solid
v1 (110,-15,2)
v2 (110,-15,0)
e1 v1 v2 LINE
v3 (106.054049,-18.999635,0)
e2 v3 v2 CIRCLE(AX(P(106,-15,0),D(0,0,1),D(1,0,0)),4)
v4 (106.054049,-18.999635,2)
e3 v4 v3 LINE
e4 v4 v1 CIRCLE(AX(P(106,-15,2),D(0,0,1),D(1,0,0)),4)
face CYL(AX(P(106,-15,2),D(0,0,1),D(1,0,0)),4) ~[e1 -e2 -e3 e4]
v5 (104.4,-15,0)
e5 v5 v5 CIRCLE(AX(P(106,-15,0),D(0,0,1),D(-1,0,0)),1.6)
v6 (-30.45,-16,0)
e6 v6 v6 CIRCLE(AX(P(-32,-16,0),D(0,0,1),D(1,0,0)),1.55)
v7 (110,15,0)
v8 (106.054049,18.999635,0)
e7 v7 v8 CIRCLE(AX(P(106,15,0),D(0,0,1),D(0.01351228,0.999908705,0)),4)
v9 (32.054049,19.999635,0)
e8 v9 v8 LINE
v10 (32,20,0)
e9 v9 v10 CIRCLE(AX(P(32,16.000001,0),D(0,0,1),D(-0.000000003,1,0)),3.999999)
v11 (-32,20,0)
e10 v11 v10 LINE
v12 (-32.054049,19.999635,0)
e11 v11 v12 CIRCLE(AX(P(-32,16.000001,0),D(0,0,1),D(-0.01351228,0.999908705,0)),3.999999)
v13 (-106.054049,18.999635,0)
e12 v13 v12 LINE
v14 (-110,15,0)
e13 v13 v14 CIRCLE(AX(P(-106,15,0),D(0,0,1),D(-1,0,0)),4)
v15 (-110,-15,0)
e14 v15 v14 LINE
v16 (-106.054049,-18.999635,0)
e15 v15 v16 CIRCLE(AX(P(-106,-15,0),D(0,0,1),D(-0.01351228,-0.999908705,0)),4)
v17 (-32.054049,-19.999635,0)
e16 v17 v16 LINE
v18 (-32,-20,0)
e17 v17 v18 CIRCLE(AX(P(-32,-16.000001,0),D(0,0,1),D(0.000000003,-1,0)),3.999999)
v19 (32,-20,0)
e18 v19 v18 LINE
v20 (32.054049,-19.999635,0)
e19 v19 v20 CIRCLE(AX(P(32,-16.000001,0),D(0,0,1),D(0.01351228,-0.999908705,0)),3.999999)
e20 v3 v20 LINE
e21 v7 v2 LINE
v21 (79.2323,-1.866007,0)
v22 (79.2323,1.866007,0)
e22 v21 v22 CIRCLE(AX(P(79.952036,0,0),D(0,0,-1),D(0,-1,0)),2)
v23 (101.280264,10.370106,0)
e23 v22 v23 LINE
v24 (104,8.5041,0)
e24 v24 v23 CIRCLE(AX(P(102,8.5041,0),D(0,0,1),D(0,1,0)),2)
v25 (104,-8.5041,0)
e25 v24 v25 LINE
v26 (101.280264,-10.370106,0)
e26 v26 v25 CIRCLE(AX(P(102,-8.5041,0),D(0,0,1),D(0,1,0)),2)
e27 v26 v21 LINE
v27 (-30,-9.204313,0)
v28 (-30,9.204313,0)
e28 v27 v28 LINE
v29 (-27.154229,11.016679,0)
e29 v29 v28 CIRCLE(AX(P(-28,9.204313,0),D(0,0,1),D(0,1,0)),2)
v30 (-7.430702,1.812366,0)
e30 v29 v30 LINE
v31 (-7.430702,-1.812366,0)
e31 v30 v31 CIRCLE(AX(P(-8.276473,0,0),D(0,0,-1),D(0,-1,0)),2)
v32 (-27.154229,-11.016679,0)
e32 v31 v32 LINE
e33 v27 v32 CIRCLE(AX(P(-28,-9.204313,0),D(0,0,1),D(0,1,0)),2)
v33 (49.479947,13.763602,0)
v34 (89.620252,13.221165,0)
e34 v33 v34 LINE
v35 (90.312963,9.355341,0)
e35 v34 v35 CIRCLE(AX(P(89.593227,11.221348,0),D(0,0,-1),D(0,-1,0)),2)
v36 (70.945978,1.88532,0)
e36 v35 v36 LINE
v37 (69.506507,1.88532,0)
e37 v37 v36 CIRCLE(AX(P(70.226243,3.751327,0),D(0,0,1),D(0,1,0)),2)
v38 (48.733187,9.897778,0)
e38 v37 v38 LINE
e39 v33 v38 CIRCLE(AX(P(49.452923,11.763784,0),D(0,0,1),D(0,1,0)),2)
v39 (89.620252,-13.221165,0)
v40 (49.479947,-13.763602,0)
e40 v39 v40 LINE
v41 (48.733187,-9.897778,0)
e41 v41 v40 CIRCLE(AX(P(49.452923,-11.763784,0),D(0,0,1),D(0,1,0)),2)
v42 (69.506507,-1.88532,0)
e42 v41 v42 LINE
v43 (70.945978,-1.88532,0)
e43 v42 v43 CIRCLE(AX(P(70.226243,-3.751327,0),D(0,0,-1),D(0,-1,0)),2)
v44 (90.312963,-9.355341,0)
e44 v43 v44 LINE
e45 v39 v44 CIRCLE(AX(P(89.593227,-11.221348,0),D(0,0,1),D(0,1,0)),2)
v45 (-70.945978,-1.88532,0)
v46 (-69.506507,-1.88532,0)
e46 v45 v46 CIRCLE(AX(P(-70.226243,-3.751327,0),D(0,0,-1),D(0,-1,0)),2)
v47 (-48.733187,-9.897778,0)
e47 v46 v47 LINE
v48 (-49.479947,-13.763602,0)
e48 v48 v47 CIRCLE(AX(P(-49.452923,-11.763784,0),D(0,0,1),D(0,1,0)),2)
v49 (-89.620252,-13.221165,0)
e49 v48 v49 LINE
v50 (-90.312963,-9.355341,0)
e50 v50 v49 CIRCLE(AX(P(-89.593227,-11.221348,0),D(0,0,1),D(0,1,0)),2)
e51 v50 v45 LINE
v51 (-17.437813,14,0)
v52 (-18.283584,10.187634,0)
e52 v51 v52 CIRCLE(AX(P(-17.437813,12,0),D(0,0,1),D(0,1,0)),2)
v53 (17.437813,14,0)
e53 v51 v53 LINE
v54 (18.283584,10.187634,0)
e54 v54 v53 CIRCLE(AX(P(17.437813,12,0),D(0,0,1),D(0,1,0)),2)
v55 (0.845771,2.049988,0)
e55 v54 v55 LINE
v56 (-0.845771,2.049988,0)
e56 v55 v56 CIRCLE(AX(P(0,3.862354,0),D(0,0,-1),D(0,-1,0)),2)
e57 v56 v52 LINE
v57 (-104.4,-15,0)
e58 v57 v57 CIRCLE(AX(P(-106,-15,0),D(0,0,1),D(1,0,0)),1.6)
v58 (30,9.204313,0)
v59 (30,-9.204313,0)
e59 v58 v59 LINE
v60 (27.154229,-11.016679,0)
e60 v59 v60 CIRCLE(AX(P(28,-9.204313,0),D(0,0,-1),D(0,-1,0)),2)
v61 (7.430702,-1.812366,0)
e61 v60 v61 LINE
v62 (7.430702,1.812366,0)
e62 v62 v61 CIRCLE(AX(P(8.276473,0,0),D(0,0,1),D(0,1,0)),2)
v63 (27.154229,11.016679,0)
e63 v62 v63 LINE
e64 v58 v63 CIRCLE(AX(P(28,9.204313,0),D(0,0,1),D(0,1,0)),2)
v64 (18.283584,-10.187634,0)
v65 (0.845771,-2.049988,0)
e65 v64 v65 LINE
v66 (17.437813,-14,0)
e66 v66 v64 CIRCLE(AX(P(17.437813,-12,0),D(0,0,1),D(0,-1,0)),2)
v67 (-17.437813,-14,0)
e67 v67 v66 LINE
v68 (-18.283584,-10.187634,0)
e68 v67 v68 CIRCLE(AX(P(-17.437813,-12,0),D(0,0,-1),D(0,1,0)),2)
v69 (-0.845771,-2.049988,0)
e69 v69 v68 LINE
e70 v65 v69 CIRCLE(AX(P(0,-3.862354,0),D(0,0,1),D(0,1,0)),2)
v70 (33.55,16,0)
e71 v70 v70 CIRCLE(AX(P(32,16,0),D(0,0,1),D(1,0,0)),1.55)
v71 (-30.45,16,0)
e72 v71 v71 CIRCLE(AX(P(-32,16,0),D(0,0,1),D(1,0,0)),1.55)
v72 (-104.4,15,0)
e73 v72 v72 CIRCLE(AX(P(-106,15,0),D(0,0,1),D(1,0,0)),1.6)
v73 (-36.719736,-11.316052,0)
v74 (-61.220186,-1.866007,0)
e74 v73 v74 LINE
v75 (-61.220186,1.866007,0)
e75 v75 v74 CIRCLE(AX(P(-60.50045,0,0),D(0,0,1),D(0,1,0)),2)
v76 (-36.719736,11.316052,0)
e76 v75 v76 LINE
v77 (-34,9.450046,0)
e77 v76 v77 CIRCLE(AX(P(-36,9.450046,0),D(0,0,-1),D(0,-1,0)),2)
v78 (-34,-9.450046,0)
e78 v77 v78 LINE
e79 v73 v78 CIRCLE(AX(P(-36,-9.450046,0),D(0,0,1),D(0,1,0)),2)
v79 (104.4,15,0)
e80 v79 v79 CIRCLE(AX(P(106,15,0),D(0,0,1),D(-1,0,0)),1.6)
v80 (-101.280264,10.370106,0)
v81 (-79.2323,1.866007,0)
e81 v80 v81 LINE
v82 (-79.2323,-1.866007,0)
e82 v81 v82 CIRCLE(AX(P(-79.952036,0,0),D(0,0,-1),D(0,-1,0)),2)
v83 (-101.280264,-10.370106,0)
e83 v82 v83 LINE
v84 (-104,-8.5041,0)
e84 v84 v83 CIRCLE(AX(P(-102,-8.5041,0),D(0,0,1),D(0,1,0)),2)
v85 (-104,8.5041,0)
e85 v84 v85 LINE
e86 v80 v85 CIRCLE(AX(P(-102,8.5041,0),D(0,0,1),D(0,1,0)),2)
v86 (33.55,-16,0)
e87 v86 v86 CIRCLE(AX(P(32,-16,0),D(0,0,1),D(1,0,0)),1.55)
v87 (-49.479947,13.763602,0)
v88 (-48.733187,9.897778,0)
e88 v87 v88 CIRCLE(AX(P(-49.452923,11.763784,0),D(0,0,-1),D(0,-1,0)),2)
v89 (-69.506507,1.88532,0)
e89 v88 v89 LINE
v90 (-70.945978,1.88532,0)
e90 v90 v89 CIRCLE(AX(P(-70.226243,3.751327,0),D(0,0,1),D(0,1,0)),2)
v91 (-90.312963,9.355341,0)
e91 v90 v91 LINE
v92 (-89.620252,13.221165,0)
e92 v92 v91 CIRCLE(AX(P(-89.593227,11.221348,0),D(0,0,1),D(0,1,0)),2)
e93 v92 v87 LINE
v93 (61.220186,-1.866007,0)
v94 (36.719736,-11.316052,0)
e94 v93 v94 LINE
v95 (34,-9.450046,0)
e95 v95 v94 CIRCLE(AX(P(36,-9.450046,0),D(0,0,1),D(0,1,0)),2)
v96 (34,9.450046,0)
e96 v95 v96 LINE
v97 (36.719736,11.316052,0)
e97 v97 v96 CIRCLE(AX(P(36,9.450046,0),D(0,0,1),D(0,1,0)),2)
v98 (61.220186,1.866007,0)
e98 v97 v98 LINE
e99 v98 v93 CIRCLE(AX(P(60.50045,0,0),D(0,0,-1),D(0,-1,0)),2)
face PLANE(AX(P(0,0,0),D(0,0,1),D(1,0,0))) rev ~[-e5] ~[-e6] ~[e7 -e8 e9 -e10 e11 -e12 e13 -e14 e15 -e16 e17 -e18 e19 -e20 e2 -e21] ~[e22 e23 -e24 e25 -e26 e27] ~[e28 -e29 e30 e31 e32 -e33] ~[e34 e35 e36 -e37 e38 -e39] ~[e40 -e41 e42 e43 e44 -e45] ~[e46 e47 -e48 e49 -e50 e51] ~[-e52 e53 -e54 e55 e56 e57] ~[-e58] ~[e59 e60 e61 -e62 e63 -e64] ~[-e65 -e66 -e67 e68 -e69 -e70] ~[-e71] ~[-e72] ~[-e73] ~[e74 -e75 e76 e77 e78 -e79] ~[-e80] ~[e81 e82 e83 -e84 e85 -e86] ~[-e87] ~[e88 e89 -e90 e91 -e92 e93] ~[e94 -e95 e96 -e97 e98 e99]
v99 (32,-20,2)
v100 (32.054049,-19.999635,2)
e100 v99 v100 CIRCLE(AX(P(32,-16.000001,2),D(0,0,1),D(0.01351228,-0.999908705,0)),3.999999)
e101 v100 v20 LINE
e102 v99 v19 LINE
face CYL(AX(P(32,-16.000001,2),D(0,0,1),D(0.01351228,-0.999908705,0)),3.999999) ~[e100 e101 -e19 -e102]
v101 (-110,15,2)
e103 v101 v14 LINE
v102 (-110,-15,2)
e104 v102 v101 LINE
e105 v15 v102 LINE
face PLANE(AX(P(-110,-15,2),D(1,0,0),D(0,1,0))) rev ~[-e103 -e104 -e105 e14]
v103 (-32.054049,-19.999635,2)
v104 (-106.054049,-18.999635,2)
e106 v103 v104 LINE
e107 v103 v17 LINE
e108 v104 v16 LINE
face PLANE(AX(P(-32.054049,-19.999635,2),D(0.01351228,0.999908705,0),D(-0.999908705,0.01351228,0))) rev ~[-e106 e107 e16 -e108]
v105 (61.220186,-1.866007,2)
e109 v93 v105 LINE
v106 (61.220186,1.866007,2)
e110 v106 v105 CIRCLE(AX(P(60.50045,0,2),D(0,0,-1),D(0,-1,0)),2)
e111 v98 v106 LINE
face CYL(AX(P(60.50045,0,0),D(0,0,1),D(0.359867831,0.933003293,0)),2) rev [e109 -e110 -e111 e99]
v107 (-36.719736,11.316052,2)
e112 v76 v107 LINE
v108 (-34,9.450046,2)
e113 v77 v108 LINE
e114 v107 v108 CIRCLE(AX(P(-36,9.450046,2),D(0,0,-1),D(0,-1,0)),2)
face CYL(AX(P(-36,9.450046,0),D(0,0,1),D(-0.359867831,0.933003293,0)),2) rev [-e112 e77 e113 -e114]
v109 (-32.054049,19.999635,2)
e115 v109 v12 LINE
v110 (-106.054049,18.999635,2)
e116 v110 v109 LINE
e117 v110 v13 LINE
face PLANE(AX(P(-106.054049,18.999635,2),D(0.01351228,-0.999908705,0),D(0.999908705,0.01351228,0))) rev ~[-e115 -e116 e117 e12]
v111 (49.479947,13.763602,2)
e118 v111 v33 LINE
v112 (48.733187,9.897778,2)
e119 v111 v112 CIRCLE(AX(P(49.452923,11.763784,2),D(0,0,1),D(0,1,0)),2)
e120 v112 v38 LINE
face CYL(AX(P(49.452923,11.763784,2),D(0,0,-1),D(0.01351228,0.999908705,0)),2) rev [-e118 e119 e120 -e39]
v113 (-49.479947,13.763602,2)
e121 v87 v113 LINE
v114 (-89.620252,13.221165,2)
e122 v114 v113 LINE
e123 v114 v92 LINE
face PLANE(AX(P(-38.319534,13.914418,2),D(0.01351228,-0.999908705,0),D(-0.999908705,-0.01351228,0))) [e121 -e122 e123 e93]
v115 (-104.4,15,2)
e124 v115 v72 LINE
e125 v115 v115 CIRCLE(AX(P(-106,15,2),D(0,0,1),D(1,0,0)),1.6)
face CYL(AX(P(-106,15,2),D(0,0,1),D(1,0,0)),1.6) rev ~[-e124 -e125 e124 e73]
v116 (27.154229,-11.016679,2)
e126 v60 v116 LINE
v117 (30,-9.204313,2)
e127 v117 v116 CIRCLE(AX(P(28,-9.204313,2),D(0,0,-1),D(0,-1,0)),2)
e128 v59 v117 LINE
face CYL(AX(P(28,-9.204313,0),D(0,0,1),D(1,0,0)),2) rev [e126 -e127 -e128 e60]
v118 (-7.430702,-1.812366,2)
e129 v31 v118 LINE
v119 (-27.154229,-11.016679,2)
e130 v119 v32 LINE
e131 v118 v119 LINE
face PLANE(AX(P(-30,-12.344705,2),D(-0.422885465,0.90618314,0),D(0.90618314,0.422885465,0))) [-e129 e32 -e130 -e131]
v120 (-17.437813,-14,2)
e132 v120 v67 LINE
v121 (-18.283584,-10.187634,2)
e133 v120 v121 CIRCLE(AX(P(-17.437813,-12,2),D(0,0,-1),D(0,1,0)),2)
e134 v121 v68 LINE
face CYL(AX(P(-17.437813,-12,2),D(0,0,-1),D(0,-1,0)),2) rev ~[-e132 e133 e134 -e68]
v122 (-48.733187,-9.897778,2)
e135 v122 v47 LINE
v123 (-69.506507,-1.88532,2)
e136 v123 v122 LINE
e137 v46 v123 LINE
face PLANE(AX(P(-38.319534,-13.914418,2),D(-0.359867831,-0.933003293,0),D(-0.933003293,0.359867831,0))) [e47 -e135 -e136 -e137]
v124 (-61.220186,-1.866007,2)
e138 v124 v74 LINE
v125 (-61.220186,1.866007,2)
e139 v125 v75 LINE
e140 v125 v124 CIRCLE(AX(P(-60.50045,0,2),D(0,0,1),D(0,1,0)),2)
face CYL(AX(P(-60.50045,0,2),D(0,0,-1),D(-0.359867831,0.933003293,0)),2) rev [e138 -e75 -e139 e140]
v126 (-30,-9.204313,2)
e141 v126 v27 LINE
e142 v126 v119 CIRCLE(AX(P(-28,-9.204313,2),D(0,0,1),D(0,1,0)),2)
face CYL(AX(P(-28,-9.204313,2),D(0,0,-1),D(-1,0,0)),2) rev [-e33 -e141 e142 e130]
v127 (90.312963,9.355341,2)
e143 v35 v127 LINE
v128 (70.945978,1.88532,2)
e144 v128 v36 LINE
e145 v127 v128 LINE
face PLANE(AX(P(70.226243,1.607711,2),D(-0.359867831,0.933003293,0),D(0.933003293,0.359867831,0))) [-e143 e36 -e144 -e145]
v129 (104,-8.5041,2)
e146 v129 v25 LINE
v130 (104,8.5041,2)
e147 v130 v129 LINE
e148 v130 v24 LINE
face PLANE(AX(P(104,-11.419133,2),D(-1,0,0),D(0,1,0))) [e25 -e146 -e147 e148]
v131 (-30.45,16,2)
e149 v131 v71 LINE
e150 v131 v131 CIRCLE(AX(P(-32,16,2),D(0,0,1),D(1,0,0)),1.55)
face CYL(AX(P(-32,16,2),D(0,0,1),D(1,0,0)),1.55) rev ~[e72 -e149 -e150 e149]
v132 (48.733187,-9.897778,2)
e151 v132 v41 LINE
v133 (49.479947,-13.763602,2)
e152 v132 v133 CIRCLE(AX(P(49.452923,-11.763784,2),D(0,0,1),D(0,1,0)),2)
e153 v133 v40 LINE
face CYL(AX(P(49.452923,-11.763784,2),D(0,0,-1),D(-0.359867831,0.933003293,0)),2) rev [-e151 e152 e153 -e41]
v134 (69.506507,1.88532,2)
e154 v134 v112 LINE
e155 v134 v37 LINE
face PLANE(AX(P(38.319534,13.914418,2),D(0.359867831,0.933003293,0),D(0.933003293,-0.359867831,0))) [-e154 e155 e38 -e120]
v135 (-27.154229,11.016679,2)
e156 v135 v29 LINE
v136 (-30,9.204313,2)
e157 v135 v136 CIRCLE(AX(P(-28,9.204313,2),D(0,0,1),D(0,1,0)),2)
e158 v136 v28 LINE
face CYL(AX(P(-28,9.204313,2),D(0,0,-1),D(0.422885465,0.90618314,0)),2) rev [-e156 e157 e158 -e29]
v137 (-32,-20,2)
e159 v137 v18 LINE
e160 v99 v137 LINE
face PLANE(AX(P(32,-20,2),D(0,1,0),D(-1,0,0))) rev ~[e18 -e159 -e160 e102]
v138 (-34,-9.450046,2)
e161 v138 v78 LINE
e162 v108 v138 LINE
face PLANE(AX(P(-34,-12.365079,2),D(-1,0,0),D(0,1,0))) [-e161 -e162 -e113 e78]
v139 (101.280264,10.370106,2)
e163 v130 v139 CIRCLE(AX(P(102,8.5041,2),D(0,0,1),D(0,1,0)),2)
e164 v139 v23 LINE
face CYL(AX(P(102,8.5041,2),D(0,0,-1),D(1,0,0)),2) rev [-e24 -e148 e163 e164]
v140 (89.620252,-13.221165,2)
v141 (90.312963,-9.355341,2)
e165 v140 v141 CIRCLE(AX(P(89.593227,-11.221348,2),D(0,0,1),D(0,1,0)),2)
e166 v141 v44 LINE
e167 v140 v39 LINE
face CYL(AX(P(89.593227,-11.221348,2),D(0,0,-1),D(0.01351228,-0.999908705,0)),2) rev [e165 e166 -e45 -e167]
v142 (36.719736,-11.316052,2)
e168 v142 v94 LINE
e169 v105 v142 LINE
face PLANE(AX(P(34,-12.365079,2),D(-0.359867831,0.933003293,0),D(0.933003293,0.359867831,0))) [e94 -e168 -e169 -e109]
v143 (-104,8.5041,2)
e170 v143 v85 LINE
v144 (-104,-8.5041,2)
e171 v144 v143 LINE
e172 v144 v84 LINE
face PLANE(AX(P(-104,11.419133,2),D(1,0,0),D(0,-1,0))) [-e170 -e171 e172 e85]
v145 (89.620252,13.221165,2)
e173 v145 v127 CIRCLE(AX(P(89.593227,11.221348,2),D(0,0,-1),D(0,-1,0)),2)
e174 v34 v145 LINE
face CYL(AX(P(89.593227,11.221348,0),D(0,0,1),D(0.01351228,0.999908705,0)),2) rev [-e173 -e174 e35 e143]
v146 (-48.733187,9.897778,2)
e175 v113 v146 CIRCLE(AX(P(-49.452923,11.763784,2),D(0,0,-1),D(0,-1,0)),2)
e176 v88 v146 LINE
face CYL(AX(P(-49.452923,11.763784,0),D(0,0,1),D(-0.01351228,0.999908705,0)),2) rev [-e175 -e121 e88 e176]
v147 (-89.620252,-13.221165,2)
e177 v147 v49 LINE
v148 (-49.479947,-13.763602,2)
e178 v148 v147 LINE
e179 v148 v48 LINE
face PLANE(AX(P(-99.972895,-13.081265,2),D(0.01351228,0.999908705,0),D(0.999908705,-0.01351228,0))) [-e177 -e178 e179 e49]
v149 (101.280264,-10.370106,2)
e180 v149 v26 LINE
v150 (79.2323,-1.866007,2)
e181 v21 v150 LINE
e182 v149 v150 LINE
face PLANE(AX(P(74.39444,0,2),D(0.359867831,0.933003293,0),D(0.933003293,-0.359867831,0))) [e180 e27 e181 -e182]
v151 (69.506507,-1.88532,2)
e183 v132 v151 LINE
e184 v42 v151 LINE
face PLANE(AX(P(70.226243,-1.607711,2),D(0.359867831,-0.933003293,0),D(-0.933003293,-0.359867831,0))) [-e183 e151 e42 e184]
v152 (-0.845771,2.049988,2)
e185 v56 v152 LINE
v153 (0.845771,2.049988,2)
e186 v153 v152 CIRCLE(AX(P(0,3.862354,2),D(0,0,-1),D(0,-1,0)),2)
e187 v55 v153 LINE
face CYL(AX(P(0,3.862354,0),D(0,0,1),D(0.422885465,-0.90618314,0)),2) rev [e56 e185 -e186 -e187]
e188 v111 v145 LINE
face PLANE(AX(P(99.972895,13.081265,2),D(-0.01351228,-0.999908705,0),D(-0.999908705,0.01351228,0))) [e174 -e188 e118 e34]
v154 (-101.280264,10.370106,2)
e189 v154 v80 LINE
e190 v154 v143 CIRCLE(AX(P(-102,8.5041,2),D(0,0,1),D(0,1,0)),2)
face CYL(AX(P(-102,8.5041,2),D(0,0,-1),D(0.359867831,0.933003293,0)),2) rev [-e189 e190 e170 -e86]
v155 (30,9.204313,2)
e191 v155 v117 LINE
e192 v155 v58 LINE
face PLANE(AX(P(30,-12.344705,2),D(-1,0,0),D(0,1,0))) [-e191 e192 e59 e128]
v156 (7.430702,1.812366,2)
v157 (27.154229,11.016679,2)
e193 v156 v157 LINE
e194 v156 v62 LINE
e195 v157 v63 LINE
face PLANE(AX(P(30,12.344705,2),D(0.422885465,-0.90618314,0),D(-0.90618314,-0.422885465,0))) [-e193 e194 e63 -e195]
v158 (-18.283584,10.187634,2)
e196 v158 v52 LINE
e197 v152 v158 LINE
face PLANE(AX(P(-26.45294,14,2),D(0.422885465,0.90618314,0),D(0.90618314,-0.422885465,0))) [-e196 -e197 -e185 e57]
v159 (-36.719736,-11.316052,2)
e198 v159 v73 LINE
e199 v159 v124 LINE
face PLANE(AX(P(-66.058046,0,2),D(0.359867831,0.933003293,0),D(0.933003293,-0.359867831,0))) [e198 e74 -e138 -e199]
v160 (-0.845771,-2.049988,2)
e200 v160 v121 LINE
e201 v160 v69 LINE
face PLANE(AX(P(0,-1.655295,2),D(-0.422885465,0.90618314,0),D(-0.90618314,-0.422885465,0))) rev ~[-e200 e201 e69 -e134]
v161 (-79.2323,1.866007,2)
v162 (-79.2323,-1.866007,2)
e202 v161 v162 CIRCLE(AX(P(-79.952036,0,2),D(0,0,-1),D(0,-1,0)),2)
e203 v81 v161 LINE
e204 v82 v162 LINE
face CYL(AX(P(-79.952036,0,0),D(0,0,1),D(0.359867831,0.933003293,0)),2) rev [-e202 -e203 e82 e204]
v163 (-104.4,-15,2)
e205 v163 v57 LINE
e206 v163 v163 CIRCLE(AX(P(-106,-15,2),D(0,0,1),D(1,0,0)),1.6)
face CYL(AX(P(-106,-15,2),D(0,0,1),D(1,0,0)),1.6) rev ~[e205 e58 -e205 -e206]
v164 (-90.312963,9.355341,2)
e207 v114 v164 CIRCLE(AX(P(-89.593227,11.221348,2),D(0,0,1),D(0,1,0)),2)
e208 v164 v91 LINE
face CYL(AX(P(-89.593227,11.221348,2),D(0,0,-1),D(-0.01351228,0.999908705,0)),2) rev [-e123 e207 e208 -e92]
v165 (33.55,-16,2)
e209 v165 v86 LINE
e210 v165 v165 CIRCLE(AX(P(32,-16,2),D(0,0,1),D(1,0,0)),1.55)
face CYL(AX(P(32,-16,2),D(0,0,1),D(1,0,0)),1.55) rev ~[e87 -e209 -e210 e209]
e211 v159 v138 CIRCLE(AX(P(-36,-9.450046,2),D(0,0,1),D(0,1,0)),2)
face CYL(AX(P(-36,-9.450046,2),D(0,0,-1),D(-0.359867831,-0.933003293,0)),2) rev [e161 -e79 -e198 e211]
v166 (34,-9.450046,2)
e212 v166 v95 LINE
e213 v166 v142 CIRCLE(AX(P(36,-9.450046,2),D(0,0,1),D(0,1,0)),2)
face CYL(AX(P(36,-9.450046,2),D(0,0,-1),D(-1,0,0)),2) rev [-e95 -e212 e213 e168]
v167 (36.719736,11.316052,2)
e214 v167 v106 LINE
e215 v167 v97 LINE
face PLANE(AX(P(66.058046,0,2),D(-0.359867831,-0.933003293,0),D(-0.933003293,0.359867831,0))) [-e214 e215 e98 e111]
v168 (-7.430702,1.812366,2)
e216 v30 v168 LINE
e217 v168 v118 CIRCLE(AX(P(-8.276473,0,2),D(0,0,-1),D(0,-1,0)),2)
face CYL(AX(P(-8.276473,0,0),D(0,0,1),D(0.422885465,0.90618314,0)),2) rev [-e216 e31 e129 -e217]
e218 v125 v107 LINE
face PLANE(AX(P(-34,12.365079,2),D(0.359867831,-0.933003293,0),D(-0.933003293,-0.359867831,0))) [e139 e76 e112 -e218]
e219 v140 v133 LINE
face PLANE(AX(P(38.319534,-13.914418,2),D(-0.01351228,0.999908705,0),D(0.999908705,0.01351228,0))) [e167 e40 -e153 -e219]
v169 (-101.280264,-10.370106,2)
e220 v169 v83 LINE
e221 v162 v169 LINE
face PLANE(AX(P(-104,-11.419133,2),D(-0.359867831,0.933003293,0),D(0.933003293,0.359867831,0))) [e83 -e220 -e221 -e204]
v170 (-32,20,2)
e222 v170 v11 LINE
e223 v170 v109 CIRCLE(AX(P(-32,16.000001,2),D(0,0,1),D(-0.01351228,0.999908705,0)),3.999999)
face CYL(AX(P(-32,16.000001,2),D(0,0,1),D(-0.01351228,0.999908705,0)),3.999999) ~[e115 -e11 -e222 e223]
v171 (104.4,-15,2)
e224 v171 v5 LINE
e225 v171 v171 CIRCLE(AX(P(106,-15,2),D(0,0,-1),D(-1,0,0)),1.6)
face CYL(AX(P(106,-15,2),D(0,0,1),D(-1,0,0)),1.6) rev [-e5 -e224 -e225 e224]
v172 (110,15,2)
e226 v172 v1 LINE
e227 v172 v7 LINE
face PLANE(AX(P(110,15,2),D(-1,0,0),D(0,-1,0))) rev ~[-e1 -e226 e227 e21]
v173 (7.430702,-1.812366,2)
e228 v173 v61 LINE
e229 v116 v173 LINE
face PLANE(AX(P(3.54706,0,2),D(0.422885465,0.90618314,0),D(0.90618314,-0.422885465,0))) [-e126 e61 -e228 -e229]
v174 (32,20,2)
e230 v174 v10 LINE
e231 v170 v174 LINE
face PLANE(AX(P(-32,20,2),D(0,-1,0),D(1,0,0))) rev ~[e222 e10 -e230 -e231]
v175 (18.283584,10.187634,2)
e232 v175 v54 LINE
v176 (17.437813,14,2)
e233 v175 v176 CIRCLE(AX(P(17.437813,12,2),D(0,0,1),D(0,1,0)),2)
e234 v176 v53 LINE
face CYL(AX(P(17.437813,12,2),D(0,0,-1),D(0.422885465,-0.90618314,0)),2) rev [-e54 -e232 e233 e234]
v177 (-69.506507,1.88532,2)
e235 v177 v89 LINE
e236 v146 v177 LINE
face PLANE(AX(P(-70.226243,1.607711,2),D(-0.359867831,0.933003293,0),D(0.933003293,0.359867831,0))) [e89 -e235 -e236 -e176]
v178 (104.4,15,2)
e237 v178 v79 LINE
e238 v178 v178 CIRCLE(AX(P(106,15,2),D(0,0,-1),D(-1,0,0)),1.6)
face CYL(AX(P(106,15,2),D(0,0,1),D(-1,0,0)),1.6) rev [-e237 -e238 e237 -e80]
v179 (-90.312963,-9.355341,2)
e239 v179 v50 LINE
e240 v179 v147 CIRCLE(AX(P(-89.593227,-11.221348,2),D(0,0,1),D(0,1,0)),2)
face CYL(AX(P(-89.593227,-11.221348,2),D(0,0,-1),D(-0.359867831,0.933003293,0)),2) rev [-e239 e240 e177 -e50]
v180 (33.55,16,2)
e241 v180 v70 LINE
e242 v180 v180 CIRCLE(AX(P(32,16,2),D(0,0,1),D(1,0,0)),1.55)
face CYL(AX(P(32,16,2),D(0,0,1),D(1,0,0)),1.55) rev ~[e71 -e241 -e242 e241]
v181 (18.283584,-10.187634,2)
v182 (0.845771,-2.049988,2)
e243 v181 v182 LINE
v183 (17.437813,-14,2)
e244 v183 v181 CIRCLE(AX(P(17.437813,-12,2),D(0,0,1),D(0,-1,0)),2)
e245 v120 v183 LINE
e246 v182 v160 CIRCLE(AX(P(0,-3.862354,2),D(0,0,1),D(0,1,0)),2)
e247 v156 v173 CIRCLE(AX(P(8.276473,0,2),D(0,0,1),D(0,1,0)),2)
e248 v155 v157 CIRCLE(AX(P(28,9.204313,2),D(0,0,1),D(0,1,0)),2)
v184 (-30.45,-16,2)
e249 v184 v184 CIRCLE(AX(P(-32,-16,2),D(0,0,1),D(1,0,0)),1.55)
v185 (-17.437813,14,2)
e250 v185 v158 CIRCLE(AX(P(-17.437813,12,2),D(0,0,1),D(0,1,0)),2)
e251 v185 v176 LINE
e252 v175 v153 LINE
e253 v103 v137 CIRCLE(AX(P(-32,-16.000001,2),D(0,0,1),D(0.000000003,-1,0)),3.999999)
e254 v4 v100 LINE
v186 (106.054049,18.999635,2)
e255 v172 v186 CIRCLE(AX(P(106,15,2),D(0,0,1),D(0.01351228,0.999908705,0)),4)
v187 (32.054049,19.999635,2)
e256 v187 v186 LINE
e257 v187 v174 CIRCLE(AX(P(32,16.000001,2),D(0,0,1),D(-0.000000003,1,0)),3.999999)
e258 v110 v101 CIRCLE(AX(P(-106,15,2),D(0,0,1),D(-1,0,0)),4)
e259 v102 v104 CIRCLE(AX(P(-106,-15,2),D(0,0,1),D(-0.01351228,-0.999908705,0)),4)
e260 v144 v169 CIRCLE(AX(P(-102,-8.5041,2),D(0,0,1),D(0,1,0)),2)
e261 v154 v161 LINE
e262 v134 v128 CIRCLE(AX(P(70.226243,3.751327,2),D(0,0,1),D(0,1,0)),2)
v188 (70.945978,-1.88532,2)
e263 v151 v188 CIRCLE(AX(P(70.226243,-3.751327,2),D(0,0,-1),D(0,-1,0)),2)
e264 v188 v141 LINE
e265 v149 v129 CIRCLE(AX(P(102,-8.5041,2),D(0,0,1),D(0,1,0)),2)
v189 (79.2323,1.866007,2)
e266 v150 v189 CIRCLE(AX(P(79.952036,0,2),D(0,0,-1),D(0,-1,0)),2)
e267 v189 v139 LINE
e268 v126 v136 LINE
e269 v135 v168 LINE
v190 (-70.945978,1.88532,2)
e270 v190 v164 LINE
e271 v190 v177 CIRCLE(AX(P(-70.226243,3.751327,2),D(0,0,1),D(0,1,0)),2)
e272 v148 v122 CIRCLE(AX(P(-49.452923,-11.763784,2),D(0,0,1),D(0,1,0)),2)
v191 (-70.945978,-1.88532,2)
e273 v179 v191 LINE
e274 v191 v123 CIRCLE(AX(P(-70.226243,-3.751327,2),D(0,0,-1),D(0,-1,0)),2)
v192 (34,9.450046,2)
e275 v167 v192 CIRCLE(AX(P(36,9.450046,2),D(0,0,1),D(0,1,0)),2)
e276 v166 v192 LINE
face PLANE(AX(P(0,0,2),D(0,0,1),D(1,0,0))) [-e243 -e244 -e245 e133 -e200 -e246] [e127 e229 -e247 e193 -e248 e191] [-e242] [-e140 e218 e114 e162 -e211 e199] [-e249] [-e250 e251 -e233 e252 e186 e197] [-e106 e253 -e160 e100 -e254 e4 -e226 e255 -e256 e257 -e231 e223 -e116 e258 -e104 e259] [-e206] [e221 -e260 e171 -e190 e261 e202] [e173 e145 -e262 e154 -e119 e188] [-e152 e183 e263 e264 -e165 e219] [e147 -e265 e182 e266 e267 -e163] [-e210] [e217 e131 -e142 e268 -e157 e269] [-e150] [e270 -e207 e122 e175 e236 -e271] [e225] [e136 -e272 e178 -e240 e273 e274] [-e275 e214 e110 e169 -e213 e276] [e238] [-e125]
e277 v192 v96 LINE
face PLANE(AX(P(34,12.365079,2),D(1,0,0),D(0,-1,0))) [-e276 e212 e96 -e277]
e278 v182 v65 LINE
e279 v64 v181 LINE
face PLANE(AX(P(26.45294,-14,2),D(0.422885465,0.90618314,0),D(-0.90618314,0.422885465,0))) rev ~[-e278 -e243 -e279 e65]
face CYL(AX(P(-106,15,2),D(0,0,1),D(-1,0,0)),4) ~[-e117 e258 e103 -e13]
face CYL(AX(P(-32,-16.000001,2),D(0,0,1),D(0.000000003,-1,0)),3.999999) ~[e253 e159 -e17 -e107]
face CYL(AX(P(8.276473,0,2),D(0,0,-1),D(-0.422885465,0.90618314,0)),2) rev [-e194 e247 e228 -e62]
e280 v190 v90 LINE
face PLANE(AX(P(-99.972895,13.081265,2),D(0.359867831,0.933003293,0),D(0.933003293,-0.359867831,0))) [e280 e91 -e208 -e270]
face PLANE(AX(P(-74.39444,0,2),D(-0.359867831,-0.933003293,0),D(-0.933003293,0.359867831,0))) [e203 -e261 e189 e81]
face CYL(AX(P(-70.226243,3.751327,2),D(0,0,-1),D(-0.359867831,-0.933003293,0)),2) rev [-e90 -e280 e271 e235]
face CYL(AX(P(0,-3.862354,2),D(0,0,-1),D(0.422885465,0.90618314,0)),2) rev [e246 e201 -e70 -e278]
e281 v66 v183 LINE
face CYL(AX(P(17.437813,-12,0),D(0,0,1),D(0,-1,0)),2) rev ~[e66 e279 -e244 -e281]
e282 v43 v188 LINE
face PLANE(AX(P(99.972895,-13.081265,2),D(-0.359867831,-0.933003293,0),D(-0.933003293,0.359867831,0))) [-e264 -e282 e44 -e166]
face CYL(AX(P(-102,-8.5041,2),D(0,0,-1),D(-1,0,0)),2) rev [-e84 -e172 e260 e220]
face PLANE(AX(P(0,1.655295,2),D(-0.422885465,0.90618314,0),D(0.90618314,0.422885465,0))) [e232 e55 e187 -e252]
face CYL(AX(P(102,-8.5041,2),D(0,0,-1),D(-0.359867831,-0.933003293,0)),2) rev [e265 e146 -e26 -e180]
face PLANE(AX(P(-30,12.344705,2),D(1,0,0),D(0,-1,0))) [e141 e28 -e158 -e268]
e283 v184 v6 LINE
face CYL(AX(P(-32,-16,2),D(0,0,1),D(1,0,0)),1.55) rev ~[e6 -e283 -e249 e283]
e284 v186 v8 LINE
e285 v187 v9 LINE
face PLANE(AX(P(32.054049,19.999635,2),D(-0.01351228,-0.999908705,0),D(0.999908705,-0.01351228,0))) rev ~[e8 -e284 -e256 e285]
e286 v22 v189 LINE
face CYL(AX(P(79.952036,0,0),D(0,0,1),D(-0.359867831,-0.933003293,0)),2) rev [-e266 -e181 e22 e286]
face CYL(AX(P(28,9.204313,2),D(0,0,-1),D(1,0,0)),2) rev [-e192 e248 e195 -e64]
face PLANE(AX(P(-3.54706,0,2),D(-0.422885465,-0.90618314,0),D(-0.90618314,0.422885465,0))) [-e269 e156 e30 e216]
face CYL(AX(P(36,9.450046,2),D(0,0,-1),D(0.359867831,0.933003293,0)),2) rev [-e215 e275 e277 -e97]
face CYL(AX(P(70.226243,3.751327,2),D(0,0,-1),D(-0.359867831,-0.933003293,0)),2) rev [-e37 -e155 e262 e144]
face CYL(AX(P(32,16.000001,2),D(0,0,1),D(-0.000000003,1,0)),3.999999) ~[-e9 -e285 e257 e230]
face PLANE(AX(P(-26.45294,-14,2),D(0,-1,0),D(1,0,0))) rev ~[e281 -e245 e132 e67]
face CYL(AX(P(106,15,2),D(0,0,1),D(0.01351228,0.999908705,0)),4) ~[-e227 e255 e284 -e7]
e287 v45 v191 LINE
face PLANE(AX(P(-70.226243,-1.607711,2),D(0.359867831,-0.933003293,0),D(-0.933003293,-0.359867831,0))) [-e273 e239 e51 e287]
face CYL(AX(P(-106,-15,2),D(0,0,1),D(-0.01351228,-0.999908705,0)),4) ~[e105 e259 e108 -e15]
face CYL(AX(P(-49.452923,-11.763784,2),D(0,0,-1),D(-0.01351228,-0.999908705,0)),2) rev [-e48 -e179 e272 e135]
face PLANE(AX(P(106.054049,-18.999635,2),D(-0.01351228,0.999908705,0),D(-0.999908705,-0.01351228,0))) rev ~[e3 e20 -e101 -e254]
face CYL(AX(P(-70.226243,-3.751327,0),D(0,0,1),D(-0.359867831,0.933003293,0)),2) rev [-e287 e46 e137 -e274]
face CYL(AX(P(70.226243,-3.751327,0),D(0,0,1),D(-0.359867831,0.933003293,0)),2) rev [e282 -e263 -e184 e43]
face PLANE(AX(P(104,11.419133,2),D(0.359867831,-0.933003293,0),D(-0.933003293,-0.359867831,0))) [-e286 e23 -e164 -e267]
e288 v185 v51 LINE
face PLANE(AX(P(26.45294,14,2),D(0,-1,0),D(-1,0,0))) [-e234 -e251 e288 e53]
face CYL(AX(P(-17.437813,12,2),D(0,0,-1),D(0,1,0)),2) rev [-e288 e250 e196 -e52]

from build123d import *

# Parameters (mm, degrees)
SKETCH_1_W          = 232
SKETCH_1_H          = 52
EXTRUDE_1_DEPTH     = 2
SKETCH_3_R          = 1.55
CUT_EXTRUDE_2_DEPTH = 10
FILLET_1_R          = 3
SKETCH_8_R          = 1.6
CUT_EXTRUDE_6_DEPTH = 10
CUT_EXTRUDE_7_DEPTH = 5
CUT_EXTRUDE_8_DEPTH = 5
FILLET_2_R          = 2


with BuildPart() as part:
    # 草图1 → 凸台-拉伸1 (new body)
    with BuildSketch(Plane.XY):
        Rectangle(SKETCH_1_W, SKETCH_1_H)
    extrude(amount=EXTRUDE_1_DEPTH)

    # 草图3 → 切除-拉伸2 (cut)
    with BuildSketch(Plane.XY.offset(2)):
        with Locations((32, -16)):
            Circle(SKETCH_3_R)
        with Locations((32, 16)):
            Circle(SKETCH_3_R)
        with Locations((-32, 16)):
            Circle(SKETCH_3_R)
        with Locations((-32, -16)):
            Circle(SKETCH_3_R)
    extrude(amount=-CUT_EXTRUDE_2_DEPTH, mode=Mode.SUBTRACT)

    # 圆角1
    fillet_1_edges = [part.edges().sort_by_distance(p)[0] for p in [
        (116, -26, 1),
        (-116, -26, 1),
        (-116, 26, 1),
        (116, 26, 1),
    ]]
    fillet(fillet_1_edges, radius=FILLET_1_R)

    # 草图8 → 切除-拉伸6 (cut)
    with BuildSketch(Plane.XY.offset(2)):
        with Locations((-106, 15)):
            Circle(SKETCH_8_R)
        with Locations((-106, -15)):
            Circle(SKETCH_8_R)
    cut_extrude_6 = extrude(amount=-CUT_EXTRUDE_6_DEPTH, mode=Mode.SUBTRACT)

    # 镜向1: 切除-拉伸6 across plane
    add(cut_extrude_6.mirror(Plane(origin=(0, 0, 0), x_dir=(0, 0, 1), z_dir=(1, 0, 0))), mode=Mode.SUBTRACT)

    # 草图9 → 切除-拉伸7 (cut, symmetric)
    with BuildSketch(Plane.XY.offset(2)):
        with BuildLine():
            ThreePointArc((-116, -23), (-115.121320344, -25.121320344), (-113, -26))
            Line((-113, -26), (113, -26))
            ThreePointArc((113, -26), (115.121320344, -25.121320344), (116, -23))
            Line((116, -23), (116, 23))
            ThreePointArc((116, 23), (115.121320344, 25.121320344), (113, 26))
            Line((113, 26), (-113, 26))
            ThreePointArc((-113, 26), (-115.121320344, 25.121320344), (-116, 23))
            Line((-116, 23), (-116, -23))
        make_face()
        with BuildLine():
            Line((-110, -15), (-110, 15))
            ThreePointArc((-110, 15), (-108.847472254, 17.809252883), (-106.054049119, 18.99963482))
            Line((-106.054049119, 18.99963482), (-32.054049119, 19.99963482))
            ThreePointArc((-32.054049119, 19.99963482), (-32.027025176, 19.999908704), (-32, 20))
            Line((-32, 20), (32, 20))
            ThreePointArc((32, 20), (32.027025176, 19.999908704), (32.054049119, 19.99963482))
            Line((32.054049119, 19.99963482), (106.054049119, 18.99963482))
            ThreePointArc((106.054049119, 18.99963482), (108.847472254, 17.809252883), (110, 15))
            Line((110, 15), (110, -15))
            ThreePointArc((110, -15), (108.847472254, -17.809252883), (106.054049119, -18.99963482))
            Line((106.054049119, -18.99963482), (32.054049119, -19.99963482))
            ThreePointArc((32.054049119, -19.99963482), (32.027025176, -19.999908704), (32, -20))
            Line((32, -20), (-32, -20))
            ThreePointArc((-32, -20), (-32.027025176, -19.999908704), (-32.054049119, -19.99963482))
            Line((-32.054049119, -19.99963482), (-106.054049119, -18.99963482))
            ThreePointArc((-106.054049119, -18.99963482), (-108.847472254, -17.809252883), (-110, -15))
        make_face(mode=Mode.SUBTRACT)
    extrude(amount=CUT_EXTRUDE_7_DEPTH, both=True, mode=Mode.SUBTRACT)

    # 草图10 → 切除-拉伸8 (cut, symmetric)
    with BuildSketch(Plane.XY.offset(2)):
        Polygon((-70.226242813, 1.607711368), (-38.319534037, 13.914418285), (-99.972894719, 13.081264762), align=None)
        Polygon((-104, -11.419133052), (-74.394439777, 0), (-104, 11.419133052), align=None)
        Polygon((-38.319534037, -13.914418285), (-70.226242813, -1.607711368), (-99.972894719, -13.081264762), align=None)
        Polygon((-34, -12.365078998), (-34, 12.365078998), (-66.058045849, 0), align=None)
        Polygon((-30, -12.344705464), (-3.547059719, 0), (-30, 12.344705464), align=None)
        Polygon((-26.452940281, 14), (0, 1.655294536), (26.452940281, 14), align=None)
        Polygon((3.547059719, 0), (30, -12.344705464), (30, 12.344705464), align=None)
        Polygon((34, -12.365078998), (66.058045849, 0), (34, 12.365078998), align=None)
        Polygon((70.226242813, 1.607711368), (99.972894719, 13.081264762), (38.319534037, 13.914418285), align=None)
        Polygon((104, 11.419133052), (74.394439777, 0), (104, -11.419133052), align=None)
        Polygon((99.972894719, -13.081264762), (70.226242813, -1.607711368), (38.319534037, -13.914418285), align=None)
        Polygon((-26.452940281, -14), (26.452940281, -14), (0, -1.655294536), align=None)
    extrude(amount=CUT_EXTRUDE_8_DEPTH, both=True, mode=Mode.SUBTRACT)

    # 圆角2
    fillet_2_edges = [part.edges().sort_by_distance(p)[0] for p in [
        (34, -12.365078998, 1),
        (34, 12.365078998, 1),
        (66.058045849, 0, 1),
        (38.319534037, 13.914418285, 1),
        (99.972894719, 13.081264762, 1),
        (70.226242813, 1.607711368, 1),
        (26.452940281, 14, 1),
        (0, 1.655294536, 1),
        (-26.452940281, 14, 1),
        (30, 12.344705464, 1),
        (30, -12.344705464, 1),
        (3.547059719, 0, 1),
        (-70.226242813, -1.607711368, 1),
        (-38.319534037, -13.914418285, 1),
        (-99.972894719, -13.081264762, 1),
        (-104, -11.419133052, 1),
        (-104, 11.419133052, 1),
        (-74.394439777, 0, 1),
        (-66.058045849, 0, 1),
        (-34, 12.365078998, 1),
        (-34, -12.365078998, 1),
        (-3.547059719, 0, 1),
        (-30, -12.344705464, 1),
        (-30, 12.344705464, 1),
        (99.972894719, -13.081264762, 1),
        (38.319534037, -13.914418285, 1),
        (70.226242813, -1.607711368, 1),
        (104, 11.419133052, 1),
        (104, -11.419133052, 1),
        (74.394439777, 0, 1),
        (0, -1.655294536, 1),
        (26.452940281, -14, 1),
        (-26.452940281, -14, 1),
        (-99.972894719, 13.081264762, 1),
        (-38.319534037, 13.914418285, 1),
        (-70.226242813, 1.607711368, 1),
    ]]
    fillet(fillet_2_edges, radius=FILLET_2_R)


solid = part.part
